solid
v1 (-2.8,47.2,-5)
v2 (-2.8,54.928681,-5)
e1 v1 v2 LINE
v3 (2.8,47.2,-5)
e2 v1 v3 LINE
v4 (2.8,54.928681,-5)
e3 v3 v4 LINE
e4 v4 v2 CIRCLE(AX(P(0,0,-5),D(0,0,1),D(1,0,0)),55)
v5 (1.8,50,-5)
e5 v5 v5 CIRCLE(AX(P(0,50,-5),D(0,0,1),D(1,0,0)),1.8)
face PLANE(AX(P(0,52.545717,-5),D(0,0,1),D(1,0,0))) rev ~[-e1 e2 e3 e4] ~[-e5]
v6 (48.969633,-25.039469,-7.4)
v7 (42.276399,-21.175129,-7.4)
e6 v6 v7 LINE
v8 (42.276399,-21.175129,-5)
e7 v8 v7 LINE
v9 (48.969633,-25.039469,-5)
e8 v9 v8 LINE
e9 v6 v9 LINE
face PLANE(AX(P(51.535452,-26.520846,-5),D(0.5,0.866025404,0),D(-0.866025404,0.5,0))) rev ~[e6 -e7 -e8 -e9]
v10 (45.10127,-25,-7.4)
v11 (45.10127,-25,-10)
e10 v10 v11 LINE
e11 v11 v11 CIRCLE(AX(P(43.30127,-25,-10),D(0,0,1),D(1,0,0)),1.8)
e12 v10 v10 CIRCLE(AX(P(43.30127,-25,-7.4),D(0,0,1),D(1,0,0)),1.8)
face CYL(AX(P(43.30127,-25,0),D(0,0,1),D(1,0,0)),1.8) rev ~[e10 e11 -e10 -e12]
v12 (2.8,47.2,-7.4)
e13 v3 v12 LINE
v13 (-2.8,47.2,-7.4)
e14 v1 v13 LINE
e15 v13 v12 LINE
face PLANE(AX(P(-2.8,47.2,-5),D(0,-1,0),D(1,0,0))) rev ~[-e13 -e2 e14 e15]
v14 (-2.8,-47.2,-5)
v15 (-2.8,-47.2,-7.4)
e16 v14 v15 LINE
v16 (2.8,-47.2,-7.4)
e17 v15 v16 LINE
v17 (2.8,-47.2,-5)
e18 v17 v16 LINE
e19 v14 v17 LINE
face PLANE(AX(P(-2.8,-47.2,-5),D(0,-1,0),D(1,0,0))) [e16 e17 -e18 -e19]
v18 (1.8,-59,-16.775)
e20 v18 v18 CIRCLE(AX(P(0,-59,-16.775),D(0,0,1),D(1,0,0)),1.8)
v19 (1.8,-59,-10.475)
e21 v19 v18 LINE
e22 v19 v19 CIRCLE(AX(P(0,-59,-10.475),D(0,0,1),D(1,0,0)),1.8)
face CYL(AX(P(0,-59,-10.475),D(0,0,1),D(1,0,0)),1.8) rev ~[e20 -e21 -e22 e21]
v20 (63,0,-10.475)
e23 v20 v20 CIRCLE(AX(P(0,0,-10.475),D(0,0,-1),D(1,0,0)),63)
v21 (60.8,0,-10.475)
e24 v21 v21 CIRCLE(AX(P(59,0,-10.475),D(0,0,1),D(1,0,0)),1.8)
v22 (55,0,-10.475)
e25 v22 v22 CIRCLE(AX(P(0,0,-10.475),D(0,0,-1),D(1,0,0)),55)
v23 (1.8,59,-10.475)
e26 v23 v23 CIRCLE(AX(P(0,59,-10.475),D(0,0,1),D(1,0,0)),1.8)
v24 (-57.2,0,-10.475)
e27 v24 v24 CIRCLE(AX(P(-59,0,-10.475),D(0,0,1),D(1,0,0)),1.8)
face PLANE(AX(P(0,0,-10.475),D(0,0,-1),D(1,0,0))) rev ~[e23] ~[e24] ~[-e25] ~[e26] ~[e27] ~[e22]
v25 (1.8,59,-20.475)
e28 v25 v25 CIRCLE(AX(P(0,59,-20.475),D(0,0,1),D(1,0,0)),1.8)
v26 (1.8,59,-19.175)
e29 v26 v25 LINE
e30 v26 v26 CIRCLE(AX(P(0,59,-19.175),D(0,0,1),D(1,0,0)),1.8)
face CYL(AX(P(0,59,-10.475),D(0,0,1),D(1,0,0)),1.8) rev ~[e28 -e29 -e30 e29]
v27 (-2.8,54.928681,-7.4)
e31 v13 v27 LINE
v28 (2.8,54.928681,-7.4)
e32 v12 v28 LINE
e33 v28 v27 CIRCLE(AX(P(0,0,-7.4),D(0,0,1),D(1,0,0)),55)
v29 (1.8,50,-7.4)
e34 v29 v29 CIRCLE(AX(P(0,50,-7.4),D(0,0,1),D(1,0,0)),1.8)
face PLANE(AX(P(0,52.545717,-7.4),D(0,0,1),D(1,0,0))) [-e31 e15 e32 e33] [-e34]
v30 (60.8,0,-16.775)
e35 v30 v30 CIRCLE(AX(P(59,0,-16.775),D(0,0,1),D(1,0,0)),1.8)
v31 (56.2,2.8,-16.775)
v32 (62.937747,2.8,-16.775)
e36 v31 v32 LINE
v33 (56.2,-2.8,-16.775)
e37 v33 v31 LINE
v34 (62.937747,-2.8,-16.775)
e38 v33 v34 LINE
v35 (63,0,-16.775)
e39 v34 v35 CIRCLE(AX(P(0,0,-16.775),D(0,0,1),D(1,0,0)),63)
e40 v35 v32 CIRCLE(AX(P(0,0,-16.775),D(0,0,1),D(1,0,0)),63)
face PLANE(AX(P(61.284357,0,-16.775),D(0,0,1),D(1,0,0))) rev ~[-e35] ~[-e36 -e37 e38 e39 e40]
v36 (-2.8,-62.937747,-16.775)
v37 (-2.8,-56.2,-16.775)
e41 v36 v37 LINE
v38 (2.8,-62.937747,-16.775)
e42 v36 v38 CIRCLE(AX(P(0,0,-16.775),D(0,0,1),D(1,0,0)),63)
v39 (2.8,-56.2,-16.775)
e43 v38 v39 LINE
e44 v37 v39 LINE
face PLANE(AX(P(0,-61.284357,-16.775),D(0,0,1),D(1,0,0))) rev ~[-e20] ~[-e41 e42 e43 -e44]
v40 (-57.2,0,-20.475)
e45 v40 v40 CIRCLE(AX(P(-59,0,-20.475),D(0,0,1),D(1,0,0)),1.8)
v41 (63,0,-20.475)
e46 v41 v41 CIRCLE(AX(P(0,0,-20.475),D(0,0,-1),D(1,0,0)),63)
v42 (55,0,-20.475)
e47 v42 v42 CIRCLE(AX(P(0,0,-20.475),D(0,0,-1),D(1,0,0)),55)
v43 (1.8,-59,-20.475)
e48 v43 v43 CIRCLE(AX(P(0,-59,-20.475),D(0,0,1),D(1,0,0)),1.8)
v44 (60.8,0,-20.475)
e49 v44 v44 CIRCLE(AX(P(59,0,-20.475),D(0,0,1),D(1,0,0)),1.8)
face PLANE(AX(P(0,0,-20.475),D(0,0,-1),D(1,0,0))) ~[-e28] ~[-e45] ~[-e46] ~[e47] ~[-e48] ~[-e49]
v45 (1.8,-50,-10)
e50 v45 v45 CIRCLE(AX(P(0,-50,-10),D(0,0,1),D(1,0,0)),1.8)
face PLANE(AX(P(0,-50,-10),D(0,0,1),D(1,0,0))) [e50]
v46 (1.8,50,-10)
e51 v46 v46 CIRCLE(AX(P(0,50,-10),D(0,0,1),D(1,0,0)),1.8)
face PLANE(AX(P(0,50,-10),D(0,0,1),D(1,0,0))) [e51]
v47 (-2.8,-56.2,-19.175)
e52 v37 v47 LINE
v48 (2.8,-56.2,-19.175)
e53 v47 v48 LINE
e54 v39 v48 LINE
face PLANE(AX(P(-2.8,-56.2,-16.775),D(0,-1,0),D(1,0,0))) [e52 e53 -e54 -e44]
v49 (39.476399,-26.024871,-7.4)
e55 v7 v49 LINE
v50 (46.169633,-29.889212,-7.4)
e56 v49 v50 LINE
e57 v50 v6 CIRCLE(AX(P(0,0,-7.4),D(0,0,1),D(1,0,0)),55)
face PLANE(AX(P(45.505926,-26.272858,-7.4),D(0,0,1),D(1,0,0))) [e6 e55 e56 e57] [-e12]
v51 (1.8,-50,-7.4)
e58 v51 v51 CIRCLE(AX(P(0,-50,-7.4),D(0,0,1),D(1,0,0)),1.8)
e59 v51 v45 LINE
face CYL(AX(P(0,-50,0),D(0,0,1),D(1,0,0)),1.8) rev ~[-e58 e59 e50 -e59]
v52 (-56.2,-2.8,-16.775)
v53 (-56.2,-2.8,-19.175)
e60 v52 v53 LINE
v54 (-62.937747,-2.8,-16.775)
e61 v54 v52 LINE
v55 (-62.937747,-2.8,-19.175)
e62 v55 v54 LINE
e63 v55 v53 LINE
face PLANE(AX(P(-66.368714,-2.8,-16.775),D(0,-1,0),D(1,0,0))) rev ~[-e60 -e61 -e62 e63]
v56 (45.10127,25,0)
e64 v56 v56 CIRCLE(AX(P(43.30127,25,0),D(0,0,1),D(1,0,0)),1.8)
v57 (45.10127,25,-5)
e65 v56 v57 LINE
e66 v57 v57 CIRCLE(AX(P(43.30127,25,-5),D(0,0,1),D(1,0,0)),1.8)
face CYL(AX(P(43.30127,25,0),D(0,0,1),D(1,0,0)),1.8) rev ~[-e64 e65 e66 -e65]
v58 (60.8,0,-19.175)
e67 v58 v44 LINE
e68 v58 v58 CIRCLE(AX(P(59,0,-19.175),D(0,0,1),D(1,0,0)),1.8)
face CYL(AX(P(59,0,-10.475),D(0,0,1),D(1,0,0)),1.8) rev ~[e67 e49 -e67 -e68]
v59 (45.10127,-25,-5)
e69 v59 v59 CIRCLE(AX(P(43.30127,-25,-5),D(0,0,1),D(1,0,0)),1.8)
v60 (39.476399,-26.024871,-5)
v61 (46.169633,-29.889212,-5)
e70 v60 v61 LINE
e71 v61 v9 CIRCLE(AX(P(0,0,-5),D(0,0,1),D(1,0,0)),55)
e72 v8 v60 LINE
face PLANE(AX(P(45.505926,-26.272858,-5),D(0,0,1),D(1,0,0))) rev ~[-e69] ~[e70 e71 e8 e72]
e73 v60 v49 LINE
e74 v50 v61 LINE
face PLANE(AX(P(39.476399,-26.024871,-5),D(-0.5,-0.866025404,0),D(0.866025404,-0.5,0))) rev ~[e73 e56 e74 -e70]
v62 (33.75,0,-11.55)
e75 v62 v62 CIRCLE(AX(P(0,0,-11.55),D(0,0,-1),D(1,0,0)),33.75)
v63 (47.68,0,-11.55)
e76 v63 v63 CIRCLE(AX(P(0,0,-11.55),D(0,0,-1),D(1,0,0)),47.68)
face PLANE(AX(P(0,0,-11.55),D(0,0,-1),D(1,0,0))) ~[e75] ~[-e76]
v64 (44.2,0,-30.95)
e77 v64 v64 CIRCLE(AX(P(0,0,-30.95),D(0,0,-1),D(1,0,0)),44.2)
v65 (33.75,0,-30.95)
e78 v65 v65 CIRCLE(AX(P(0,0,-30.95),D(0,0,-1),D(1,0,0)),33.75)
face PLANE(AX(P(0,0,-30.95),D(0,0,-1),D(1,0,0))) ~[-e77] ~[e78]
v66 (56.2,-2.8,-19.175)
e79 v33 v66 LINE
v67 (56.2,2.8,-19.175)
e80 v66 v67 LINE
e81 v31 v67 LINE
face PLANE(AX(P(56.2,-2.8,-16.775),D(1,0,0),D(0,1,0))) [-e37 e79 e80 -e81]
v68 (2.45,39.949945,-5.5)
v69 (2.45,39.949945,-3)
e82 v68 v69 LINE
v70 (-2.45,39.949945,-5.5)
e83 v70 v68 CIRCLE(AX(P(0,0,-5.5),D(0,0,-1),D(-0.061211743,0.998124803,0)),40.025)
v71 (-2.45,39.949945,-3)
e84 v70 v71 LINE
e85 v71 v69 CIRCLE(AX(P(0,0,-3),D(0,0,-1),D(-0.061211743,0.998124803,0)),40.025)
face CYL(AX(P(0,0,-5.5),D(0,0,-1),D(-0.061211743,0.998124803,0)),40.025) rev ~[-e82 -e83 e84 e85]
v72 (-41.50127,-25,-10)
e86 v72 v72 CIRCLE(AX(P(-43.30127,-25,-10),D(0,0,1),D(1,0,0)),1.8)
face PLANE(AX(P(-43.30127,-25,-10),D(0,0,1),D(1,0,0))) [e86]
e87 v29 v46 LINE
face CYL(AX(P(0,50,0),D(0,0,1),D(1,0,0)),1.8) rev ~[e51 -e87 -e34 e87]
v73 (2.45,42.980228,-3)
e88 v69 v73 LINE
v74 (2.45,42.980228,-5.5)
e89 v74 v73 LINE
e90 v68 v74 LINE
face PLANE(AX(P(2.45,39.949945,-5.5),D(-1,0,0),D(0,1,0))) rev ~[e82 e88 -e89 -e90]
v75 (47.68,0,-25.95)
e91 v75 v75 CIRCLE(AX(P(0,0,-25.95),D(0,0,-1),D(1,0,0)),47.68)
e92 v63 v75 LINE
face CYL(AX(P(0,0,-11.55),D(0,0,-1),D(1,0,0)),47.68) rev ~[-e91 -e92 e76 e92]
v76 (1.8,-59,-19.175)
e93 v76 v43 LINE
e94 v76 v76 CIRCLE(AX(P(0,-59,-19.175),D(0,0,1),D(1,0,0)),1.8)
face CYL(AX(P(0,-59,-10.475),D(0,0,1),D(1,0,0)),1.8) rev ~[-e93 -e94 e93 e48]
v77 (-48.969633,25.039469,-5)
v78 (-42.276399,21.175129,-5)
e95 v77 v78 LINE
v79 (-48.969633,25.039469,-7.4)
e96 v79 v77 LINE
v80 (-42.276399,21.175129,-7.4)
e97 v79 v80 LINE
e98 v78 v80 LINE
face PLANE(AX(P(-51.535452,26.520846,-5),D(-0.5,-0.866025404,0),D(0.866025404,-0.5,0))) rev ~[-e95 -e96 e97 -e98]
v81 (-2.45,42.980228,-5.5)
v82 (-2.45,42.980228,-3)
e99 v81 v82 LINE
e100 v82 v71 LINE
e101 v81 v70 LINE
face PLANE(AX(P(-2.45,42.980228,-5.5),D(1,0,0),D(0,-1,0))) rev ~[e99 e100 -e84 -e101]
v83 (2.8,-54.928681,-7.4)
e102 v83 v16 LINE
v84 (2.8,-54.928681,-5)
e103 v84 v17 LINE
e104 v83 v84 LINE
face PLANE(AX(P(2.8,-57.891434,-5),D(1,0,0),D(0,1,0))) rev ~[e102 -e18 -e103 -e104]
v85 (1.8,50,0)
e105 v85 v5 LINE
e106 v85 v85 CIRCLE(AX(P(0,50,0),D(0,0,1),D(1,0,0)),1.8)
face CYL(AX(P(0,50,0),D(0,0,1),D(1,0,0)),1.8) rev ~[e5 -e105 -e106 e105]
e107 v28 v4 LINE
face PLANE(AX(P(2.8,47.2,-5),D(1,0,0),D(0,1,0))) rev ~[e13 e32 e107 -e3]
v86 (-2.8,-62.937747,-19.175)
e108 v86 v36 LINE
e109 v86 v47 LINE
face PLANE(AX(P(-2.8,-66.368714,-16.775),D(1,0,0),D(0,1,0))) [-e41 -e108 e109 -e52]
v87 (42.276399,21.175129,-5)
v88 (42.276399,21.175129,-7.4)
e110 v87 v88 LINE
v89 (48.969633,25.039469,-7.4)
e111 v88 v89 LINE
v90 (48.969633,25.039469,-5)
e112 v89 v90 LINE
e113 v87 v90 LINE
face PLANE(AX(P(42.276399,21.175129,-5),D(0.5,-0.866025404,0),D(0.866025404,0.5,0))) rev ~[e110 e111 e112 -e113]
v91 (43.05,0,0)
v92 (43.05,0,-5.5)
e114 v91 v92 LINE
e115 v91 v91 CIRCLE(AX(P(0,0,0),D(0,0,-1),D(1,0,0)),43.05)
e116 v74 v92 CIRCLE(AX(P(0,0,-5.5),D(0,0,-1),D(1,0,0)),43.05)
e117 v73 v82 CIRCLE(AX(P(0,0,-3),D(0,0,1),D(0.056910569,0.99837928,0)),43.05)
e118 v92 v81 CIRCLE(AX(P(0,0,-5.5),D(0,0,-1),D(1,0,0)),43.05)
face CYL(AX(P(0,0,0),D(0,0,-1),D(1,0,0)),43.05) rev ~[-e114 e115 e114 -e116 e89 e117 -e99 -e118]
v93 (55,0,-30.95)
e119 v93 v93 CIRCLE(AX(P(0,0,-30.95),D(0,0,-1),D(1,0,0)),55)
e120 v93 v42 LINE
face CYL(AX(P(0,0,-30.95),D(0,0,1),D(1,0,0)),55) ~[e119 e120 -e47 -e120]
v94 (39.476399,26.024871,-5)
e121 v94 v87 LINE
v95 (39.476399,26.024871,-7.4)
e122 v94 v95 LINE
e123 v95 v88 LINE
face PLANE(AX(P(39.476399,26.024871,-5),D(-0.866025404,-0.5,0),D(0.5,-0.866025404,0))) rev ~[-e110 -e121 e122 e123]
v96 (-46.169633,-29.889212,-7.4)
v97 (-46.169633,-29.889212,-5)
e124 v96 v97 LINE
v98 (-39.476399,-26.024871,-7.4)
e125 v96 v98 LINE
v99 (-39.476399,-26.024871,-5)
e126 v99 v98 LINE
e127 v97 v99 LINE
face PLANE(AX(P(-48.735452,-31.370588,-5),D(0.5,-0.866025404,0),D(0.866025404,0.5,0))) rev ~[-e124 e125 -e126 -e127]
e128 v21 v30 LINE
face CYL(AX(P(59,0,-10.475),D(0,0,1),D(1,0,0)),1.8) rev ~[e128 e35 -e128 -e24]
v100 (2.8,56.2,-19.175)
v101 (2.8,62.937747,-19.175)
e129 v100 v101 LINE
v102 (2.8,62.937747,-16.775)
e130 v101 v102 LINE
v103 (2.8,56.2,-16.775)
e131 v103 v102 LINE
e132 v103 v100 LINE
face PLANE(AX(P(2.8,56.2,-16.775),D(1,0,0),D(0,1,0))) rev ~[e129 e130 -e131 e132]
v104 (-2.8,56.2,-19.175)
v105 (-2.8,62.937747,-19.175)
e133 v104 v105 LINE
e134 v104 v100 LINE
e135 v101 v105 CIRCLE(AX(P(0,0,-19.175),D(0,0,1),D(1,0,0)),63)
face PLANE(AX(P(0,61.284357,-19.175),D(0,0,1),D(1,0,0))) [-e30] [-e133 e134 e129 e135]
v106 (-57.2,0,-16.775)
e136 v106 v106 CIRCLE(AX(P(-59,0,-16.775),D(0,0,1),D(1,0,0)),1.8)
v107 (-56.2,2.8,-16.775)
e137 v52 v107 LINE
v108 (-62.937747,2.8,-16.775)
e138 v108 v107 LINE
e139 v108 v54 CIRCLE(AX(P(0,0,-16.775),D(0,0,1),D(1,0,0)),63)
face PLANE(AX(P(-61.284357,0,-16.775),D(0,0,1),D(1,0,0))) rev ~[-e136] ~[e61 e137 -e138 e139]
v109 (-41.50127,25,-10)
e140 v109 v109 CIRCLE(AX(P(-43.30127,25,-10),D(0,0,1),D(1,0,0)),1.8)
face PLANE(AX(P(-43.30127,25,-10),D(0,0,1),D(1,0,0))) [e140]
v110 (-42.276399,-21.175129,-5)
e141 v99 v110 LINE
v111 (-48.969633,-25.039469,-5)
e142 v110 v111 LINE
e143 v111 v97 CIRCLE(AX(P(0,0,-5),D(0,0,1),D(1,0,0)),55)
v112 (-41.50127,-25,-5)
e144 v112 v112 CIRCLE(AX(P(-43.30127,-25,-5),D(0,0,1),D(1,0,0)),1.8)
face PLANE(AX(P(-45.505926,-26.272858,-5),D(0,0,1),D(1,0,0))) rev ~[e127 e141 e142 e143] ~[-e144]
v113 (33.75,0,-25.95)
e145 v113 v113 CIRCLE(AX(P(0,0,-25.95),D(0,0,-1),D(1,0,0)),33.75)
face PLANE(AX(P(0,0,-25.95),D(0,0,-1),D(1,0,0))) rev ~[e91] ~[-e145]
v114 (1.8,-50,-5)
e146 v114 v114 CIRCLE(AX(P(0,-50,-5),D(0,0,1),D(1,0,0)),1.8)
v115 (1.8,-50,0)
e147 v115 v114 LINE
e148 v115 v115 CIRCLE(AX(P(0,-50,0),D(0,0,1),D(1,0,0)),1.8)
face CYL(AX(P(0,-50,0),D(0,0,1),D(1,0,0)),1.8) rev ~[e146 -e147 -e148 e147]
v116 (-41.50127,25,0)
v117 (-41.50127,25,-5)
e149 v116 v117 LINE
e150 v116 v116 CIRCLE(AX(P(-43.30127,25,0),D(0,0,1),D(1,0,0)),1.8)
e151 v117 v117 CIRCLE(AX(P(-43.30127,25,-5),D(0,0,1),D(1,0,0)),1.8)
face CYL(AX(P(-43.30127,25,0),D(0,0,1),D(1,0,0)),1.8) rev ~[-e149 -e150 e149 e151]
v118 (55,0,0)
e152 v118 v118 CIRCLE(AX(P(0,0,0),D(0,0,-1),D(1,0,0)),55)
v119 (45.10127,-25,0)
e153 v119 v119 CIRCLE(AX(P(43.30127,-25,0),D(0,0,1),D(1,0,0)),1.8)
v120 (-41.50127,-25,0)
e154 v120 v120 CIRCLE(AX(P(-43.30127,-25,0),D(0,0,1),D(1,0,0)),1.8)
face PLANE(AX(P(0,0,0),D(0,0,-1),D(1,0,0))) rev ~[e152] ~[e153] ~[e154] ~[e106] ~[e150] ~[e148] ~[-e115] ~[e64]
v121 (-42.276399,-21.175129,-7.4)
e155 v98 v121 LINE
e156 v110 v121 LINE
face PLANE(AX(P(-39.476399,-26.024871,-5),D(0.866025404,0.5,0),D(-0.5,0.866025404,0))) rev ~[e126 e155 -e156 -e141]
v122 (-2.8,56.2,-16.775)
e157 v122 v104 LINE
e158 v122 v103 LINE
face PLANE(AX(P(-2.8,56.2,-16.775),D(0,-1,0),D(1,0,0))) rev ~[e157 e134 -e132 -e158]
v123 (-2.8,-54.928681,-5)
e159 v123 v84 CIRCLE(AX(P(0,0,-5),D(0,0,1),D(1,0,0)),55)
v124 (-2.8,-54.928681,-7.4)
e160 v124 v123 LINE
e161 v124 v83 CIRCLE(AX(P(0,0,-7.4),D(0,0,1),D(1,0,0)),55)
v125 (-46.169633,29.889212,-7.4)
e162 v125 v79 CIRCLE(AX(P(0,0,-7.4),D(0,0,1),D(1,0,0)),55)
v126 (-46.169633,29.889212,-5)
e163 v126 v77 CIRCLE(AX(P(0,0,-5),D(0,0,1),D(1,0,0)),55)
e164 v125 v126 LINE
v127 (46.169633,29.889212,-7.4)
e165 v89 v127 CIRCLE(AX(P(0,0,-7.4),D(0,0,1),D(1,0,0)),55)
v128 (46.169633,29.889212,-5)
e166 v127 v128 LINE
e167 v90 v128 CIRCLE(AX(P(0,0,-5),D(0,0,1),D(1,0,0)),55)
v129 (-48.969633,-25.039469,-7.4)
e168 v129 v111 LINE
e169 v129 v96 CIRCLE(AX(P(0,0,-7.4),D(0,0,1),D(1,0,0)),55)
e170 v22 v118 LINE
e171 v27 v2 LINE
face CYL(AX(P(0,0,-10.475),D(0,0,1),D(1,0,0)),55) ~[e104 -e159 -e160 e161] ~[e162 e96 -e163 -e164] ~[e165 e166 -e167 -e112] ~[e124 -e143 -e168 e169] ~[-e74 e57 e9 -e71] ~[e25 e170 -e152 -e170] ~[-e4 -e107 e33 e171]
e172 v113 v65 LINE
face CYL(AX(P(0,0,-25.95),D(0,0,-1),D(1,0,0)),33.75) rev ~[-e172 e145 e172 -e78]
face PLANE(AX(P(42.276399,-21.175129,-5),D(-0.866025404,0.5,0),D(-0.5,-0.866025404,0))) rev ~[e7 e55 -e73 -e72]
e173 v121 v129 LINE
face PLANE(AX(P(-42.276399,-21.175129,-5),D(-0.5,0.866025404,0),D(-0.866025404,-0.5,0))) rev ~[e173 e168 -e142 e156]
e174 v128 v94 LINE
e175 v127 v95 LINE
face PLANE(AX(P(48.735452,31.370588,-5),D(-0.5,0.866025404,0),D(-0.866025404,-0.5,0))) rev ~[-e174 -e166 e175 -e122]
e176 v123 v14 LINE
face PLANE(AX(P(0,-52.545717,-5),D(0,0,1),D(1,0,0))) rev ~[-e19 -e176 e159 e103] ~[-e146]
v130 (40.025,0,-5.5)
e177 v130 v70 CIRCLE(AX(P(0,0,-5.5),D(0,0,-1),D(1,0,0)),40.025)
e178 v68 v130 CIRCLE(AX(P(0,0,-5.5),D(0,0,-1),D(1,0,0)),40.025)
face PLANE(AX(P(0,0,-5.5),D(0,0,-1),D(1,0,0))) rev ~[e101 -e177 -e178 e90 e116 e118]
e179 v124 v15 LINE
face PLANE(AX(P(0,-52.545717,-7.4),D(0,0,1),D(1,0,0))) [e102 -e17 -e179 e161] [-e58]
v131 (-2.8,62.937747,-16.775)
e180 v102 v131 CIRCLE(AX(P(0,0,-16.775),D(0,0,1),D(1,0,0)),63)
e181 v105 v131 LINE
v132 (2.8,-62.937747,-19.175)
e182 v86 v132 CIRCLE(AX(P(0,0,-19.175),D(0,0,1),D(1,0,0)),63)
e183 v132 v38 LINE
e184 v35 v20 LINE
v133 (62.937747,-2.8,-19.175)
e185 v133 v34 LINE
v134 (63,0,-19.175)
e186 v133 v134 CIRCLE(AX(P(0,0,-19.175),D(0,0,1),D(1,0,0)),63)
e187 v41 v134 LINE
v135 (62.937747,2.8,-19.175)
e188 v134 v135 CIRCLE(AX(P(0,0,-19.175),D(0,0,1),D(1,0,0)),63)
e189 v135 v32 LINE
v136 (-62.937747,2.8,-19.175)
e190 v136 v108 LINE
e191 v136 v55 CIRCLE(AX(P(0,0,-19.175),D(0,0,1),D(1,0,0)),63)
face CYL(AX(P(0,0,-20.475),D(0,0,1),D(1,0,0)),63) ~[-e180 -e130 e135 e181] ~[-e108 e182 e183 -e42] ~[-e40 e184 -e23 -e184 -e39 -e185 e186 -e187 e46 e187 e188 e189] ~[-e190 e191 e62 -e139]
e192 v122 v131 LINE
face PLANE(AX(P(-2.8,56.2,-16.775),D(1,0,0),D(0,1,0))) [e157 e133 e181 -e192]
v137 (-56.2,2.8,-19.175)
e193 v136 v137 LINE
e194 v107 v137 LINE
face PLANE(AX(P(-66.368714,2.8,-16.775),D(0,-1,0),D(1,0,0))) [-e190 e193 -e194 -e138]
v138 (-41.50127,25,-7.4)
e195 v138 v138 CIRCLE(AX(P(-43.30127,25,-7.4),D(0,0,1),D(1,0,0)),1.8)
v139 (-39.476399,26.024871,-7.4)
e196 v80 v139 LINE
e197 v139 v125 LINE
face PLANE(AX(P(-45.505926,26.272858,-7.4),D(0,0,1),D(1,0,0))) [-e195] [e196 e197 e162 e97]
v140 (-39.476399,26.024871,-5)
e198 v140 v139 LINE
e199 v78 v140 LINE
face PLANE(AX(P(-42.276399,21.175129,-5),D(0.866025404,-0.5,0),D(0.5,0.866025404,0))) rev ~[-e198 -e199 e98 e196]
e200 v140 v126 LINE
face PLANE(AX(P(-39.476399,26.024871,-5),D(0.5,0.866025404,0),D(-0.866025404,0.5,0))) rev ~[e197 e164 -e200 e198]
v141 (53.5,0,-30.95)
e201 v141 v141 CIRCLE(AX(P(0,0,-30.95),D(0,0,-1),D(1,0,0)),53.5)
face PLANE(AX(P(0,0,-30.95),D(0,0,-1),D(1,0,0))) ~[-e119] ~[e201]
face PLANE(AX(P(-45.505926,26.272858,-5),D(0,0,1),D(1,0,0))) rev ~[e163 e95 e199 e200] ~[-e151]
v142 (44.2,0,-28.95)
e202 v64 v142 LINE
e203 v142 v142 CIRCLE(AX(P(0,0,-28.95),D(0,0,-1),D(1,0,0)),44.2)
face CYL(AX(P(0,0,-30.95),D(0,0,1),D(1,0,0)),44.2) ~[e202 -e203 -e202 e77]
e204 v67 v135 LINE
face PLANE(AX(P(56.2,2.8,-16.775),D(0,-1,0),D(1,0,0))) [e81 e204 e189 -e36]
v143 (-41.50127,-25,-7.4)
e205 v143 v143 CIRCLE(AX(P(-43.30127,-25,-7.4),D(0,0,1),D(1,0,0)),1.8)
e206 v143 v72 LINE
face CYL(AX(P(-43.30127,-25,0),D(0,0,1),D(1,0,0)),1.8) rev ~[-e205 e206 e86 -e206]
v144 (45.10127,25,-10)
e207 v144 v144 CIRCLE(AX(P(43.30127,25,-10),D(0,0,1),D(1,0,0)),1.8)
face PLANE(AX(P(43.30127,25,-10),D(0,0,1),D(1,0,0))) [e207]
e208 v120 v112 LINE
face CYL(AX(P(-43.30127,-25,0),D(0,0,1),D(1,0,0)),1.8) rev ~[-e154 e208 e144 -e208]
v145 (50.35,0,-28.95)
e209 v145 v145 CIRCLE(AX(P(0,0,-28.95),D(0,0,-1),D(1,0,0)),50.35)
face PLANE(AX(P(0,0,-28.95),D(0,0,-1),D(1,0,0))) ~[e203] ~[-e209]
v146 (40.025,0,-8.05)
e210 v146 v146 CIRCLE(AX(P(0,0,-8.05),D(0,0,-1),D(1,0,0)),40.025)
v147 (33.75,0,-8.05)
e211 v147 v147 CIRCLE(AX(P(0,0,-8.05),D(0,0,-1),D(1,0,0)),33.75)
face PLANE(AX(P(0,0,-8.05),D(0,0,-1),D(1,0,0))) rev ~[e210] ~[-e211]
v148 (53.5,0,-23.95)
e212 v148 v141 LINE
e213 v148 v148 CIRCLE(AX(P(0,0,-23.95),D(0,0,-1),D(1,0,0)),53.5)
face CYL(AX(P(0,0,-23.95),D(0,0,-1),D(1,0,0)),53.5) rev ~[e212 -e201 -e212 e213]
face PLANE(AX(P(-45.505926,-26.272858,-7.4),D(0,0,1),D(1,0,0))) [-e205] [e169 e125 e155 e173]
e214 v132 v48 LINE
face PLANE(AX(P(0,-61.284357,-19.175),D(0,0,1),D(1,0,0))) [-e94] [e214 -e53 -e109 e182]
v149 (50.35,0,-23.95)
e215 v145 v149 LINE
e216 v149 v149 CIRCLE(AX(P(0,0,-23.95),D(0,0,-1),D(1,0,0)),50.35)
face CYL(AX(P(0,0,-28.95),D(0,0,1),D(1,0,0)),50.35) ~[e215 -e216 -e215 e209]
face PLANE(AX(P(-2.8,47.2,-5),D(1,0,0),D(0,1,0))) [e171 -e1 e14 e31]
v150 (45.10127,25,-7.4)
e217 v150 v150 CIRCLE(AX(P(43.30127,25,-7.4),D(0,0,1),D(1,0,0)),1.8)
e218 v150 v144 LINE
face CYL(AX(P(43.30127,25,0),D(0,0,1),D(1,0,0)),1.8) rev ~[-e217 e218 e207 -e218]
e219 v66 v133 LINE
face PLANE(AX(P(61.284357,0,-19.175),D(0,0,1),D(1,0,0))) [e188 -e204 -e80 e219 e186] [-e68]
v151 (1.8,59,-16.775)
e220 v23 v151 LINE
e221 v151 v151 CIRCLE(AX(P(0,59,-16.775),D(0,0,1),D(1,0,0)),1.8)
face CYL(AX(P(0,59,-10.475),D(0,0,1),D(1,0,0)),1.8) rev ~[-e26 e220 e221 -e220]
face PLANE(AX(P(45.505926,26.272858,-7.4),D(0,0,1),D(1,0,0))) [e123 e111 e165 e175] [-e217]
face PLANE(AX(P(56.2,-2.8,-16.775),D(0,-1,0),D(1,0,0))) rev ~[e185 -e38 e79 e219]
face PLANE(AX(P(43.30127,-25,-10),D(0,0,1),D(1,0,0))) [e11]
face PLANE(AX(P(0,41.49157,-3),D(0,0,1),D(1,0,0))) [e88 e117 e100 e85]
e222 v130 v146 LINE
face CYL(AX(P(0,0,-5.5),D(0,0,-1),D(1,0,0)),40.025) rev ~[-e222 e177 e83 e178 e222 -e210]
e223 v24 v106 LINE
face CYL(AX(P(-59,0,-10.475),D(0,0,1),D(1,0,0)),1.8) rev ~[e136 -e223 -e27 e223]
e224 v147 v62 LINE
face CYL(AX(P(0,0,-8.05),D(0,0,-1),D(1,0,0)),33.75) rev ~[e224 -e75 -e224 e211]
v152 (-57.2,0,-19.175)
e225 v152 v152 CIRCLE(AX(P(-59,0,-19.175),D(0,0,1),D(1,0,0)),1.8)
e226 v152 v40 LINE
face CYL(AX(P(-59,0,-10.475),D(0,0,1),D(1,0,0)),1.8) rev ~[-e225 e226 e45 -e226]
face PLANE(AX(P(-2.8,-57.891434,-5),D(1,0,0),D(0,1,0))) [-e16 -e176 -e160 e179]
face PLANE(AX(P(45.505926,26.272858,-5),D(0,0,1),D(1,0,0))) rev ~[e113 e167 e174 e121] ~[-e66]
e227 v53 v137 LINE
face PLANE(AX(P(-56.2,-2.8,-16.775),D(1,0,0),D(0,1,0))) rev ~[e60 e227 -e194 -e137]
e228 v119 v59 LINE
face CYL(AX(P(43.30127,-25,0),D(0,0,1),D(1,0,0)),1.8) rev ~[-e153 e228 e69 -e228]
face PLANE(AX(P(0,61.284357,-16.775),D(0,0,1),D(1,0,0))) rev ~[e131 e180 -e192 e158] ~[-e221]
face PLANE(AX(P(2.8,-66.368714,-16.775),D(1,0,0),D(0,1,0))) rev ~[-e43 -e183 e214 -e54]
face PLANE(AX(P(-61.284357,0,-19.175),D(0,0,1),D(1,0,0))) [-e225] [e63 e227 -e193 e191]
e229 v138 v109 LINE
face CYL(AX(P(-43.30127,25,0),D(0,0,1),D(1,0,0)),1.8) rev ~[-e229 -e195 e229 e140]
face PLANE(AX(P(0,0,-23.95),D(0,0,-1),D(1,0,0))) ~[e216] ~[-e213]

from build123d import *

# Parameters (mm, degrees)
SKETCH2_R           = 1.8
CUT_EXTRUDE1_DEPTH  = 10
SKETCH3_W           = 5.6
SKETCH3_H           = 10.691433847
CUT_EXTRUDE2_DEPTH  = 2.4
BOSS_EXTRUDE1_DEPTH = 2.5
SKETCH5_R           = 1.8
CUT_EXTRUDE3_DEPTH  = 92.417862724
SKETCH6_W           = 5.6
SKETCH6_H           = 10.168713577
SKETCH6_W_2         = 10.168713577
SKETCH6_H_2         = 5.6
CUT_EXTRUDE4_DEPTH  = 2.4


with BuildPart() as part:
    # Sketch1 → Revolve1 (revolve)
    with BuildSketch(Plane(origin=(0, 0, 0), x_dir=(1, 0, 0), z_dir=(0, 1, 0))):
        Polygon((43.05, 0), (43.05, 5.5), (40.025, 5.5), (40.025, 8.05), (33.75, 8.05), (33.75, 11.55), (47.68, 11.55), (47.68, 25.95), (33.75, 25.95), (33.75, 30.95), (44.2, 30.95), (44.2, 28.95), (50.35, 28.95), (50.35, 23.95), (53.5, 23.95), (53.5, 30.95), (55, 30.95), (55, 20.475), (63, 20.475), (63, 10.475), (55, 10.475), (55, 0), align=None)
    revolve(axis=Axis((0, 0, 39.851832449), (0, 0, -1)))

    # Sketch2 → Cut-Extrude1 (cut)
    with BuildSketch(Plane.XY):
        with Locations((0, 50)):
            Circle(SKETCH2_R)
        with Locations((43.301270189, 25)):
            Circle(SKETCH2_R)
        with Locations((43.301270189, -25)):
            Circle(SKETCH2_R)
        with Locations((0, -50)):
            Circle(SKETCH2_R)
        with Locations((-43.301270189, -25)):
            Circle(SKETCH2_R)
        with Locations((-43.301270189, 25)):
            Circle(SKETCH2_R)
    extrude(amount=-CUT_EXTRUDE1_DEPTH, mode=Mode.SUBTRACT)

    # Sketch3 → Cut-Extrude2 (cut)
    with BuildSketch(Plane.XY.offset(-5)):
        with Locations((0, 52.545716924)):
            Rectangle(SKETCH3_W, SKETCH3_H)
        Polygon((51.535452373, 26.520845793), (48.735452373, 31.370588054), (39.476399059, 26.024871131), (42.276399059, 21.175128869), align=None)
        Polygon((48.735452373, -31.370588054), (51.535452373, -26.520845793), (42.276399059, -21.175128869), (39.476399059, -26.024871131), align=None)
        with Locations((0, -52.545716924)):
            Rectangle(SKETCH3_W, SKETCH3_H)
        Polygon((-51.535452373, -26.520845793), (-48.735452373, -31.370588054), (-39.476399059, -26.024871131), (-42.276399059, -21.175128869), align=None)
        Polygon((-48.735452373, 31.370588054), (-51.535452373, 26.520845793), (-42.276399059, 21.175128869), (-39.476399059, 26.024871131), align=None)
    extrude(amount=-CUT_EXTRUDE2_DEPTH, mode=Mode.SUBTRACT)

    # Sketch4 → Boss-Extrude1 (add)
    with BuildSketch(Plane.XY.offset(-5.5)):
        with BuildLine():
            Line((-2.45, 42.980228012), (-2.45, 39.949945244))
            ThreePointArc((-2.45, 39.949945244), (0, 40.025), (2.45, 39.949945244))
            Line((2.45, 39.949945244), (2.45, 42.980228012))
            ThreePointArc((2.45, 42.980228012), (0, 43.05), (-2.45, 42.980228012))
        make_face()
    extrude(amount=BOSS_EXTRUDE1_DEPTH)

    # Sketch5 → Cut-Extrude3 (cut, through all)
    with BuildSketch(Plane.XY.offset(-10.475)):
        with Locations((0, 59)):
            Circle(SKETCH5_R)
        with Locations((59, 0)):
            Circle(SKETCH5_R)
        with Locations((0, -59)):
            Circle(SKETCH5_R)
        with Locations((-59, 0)):
            Circle(SKETCH5_R)
    extrude(amount=-CUT_EXTRUDE3_DEPTH, mode=Mode.SUBTRACT)

    # Sketch6 → Cut-Extrude4 (cut)
    with BuildSketch(Plane.XY.offset(-16.775)):
        with Locations((0, 61.284356789)):
            Rectangle(SKETCH6_W, SKETCH6_H)
        with Locations((61.284356789, 0)):
            Rectangle(SKETCH6_W_2, SKETCH6_H_2)
        with Locations((0, -61.284356789)):
            Rectangle(SKETCH6_W, SKETCH6_H)
        with Locations((-61.284356789, 0)):
            Rectangle(SKETCH6_W_2, SKETCH6_H_2)
    extrude(amount=-CUT_EXTRUDE4_DEPTH, mode=Mode.SUBTRACT)


solid = part.part
